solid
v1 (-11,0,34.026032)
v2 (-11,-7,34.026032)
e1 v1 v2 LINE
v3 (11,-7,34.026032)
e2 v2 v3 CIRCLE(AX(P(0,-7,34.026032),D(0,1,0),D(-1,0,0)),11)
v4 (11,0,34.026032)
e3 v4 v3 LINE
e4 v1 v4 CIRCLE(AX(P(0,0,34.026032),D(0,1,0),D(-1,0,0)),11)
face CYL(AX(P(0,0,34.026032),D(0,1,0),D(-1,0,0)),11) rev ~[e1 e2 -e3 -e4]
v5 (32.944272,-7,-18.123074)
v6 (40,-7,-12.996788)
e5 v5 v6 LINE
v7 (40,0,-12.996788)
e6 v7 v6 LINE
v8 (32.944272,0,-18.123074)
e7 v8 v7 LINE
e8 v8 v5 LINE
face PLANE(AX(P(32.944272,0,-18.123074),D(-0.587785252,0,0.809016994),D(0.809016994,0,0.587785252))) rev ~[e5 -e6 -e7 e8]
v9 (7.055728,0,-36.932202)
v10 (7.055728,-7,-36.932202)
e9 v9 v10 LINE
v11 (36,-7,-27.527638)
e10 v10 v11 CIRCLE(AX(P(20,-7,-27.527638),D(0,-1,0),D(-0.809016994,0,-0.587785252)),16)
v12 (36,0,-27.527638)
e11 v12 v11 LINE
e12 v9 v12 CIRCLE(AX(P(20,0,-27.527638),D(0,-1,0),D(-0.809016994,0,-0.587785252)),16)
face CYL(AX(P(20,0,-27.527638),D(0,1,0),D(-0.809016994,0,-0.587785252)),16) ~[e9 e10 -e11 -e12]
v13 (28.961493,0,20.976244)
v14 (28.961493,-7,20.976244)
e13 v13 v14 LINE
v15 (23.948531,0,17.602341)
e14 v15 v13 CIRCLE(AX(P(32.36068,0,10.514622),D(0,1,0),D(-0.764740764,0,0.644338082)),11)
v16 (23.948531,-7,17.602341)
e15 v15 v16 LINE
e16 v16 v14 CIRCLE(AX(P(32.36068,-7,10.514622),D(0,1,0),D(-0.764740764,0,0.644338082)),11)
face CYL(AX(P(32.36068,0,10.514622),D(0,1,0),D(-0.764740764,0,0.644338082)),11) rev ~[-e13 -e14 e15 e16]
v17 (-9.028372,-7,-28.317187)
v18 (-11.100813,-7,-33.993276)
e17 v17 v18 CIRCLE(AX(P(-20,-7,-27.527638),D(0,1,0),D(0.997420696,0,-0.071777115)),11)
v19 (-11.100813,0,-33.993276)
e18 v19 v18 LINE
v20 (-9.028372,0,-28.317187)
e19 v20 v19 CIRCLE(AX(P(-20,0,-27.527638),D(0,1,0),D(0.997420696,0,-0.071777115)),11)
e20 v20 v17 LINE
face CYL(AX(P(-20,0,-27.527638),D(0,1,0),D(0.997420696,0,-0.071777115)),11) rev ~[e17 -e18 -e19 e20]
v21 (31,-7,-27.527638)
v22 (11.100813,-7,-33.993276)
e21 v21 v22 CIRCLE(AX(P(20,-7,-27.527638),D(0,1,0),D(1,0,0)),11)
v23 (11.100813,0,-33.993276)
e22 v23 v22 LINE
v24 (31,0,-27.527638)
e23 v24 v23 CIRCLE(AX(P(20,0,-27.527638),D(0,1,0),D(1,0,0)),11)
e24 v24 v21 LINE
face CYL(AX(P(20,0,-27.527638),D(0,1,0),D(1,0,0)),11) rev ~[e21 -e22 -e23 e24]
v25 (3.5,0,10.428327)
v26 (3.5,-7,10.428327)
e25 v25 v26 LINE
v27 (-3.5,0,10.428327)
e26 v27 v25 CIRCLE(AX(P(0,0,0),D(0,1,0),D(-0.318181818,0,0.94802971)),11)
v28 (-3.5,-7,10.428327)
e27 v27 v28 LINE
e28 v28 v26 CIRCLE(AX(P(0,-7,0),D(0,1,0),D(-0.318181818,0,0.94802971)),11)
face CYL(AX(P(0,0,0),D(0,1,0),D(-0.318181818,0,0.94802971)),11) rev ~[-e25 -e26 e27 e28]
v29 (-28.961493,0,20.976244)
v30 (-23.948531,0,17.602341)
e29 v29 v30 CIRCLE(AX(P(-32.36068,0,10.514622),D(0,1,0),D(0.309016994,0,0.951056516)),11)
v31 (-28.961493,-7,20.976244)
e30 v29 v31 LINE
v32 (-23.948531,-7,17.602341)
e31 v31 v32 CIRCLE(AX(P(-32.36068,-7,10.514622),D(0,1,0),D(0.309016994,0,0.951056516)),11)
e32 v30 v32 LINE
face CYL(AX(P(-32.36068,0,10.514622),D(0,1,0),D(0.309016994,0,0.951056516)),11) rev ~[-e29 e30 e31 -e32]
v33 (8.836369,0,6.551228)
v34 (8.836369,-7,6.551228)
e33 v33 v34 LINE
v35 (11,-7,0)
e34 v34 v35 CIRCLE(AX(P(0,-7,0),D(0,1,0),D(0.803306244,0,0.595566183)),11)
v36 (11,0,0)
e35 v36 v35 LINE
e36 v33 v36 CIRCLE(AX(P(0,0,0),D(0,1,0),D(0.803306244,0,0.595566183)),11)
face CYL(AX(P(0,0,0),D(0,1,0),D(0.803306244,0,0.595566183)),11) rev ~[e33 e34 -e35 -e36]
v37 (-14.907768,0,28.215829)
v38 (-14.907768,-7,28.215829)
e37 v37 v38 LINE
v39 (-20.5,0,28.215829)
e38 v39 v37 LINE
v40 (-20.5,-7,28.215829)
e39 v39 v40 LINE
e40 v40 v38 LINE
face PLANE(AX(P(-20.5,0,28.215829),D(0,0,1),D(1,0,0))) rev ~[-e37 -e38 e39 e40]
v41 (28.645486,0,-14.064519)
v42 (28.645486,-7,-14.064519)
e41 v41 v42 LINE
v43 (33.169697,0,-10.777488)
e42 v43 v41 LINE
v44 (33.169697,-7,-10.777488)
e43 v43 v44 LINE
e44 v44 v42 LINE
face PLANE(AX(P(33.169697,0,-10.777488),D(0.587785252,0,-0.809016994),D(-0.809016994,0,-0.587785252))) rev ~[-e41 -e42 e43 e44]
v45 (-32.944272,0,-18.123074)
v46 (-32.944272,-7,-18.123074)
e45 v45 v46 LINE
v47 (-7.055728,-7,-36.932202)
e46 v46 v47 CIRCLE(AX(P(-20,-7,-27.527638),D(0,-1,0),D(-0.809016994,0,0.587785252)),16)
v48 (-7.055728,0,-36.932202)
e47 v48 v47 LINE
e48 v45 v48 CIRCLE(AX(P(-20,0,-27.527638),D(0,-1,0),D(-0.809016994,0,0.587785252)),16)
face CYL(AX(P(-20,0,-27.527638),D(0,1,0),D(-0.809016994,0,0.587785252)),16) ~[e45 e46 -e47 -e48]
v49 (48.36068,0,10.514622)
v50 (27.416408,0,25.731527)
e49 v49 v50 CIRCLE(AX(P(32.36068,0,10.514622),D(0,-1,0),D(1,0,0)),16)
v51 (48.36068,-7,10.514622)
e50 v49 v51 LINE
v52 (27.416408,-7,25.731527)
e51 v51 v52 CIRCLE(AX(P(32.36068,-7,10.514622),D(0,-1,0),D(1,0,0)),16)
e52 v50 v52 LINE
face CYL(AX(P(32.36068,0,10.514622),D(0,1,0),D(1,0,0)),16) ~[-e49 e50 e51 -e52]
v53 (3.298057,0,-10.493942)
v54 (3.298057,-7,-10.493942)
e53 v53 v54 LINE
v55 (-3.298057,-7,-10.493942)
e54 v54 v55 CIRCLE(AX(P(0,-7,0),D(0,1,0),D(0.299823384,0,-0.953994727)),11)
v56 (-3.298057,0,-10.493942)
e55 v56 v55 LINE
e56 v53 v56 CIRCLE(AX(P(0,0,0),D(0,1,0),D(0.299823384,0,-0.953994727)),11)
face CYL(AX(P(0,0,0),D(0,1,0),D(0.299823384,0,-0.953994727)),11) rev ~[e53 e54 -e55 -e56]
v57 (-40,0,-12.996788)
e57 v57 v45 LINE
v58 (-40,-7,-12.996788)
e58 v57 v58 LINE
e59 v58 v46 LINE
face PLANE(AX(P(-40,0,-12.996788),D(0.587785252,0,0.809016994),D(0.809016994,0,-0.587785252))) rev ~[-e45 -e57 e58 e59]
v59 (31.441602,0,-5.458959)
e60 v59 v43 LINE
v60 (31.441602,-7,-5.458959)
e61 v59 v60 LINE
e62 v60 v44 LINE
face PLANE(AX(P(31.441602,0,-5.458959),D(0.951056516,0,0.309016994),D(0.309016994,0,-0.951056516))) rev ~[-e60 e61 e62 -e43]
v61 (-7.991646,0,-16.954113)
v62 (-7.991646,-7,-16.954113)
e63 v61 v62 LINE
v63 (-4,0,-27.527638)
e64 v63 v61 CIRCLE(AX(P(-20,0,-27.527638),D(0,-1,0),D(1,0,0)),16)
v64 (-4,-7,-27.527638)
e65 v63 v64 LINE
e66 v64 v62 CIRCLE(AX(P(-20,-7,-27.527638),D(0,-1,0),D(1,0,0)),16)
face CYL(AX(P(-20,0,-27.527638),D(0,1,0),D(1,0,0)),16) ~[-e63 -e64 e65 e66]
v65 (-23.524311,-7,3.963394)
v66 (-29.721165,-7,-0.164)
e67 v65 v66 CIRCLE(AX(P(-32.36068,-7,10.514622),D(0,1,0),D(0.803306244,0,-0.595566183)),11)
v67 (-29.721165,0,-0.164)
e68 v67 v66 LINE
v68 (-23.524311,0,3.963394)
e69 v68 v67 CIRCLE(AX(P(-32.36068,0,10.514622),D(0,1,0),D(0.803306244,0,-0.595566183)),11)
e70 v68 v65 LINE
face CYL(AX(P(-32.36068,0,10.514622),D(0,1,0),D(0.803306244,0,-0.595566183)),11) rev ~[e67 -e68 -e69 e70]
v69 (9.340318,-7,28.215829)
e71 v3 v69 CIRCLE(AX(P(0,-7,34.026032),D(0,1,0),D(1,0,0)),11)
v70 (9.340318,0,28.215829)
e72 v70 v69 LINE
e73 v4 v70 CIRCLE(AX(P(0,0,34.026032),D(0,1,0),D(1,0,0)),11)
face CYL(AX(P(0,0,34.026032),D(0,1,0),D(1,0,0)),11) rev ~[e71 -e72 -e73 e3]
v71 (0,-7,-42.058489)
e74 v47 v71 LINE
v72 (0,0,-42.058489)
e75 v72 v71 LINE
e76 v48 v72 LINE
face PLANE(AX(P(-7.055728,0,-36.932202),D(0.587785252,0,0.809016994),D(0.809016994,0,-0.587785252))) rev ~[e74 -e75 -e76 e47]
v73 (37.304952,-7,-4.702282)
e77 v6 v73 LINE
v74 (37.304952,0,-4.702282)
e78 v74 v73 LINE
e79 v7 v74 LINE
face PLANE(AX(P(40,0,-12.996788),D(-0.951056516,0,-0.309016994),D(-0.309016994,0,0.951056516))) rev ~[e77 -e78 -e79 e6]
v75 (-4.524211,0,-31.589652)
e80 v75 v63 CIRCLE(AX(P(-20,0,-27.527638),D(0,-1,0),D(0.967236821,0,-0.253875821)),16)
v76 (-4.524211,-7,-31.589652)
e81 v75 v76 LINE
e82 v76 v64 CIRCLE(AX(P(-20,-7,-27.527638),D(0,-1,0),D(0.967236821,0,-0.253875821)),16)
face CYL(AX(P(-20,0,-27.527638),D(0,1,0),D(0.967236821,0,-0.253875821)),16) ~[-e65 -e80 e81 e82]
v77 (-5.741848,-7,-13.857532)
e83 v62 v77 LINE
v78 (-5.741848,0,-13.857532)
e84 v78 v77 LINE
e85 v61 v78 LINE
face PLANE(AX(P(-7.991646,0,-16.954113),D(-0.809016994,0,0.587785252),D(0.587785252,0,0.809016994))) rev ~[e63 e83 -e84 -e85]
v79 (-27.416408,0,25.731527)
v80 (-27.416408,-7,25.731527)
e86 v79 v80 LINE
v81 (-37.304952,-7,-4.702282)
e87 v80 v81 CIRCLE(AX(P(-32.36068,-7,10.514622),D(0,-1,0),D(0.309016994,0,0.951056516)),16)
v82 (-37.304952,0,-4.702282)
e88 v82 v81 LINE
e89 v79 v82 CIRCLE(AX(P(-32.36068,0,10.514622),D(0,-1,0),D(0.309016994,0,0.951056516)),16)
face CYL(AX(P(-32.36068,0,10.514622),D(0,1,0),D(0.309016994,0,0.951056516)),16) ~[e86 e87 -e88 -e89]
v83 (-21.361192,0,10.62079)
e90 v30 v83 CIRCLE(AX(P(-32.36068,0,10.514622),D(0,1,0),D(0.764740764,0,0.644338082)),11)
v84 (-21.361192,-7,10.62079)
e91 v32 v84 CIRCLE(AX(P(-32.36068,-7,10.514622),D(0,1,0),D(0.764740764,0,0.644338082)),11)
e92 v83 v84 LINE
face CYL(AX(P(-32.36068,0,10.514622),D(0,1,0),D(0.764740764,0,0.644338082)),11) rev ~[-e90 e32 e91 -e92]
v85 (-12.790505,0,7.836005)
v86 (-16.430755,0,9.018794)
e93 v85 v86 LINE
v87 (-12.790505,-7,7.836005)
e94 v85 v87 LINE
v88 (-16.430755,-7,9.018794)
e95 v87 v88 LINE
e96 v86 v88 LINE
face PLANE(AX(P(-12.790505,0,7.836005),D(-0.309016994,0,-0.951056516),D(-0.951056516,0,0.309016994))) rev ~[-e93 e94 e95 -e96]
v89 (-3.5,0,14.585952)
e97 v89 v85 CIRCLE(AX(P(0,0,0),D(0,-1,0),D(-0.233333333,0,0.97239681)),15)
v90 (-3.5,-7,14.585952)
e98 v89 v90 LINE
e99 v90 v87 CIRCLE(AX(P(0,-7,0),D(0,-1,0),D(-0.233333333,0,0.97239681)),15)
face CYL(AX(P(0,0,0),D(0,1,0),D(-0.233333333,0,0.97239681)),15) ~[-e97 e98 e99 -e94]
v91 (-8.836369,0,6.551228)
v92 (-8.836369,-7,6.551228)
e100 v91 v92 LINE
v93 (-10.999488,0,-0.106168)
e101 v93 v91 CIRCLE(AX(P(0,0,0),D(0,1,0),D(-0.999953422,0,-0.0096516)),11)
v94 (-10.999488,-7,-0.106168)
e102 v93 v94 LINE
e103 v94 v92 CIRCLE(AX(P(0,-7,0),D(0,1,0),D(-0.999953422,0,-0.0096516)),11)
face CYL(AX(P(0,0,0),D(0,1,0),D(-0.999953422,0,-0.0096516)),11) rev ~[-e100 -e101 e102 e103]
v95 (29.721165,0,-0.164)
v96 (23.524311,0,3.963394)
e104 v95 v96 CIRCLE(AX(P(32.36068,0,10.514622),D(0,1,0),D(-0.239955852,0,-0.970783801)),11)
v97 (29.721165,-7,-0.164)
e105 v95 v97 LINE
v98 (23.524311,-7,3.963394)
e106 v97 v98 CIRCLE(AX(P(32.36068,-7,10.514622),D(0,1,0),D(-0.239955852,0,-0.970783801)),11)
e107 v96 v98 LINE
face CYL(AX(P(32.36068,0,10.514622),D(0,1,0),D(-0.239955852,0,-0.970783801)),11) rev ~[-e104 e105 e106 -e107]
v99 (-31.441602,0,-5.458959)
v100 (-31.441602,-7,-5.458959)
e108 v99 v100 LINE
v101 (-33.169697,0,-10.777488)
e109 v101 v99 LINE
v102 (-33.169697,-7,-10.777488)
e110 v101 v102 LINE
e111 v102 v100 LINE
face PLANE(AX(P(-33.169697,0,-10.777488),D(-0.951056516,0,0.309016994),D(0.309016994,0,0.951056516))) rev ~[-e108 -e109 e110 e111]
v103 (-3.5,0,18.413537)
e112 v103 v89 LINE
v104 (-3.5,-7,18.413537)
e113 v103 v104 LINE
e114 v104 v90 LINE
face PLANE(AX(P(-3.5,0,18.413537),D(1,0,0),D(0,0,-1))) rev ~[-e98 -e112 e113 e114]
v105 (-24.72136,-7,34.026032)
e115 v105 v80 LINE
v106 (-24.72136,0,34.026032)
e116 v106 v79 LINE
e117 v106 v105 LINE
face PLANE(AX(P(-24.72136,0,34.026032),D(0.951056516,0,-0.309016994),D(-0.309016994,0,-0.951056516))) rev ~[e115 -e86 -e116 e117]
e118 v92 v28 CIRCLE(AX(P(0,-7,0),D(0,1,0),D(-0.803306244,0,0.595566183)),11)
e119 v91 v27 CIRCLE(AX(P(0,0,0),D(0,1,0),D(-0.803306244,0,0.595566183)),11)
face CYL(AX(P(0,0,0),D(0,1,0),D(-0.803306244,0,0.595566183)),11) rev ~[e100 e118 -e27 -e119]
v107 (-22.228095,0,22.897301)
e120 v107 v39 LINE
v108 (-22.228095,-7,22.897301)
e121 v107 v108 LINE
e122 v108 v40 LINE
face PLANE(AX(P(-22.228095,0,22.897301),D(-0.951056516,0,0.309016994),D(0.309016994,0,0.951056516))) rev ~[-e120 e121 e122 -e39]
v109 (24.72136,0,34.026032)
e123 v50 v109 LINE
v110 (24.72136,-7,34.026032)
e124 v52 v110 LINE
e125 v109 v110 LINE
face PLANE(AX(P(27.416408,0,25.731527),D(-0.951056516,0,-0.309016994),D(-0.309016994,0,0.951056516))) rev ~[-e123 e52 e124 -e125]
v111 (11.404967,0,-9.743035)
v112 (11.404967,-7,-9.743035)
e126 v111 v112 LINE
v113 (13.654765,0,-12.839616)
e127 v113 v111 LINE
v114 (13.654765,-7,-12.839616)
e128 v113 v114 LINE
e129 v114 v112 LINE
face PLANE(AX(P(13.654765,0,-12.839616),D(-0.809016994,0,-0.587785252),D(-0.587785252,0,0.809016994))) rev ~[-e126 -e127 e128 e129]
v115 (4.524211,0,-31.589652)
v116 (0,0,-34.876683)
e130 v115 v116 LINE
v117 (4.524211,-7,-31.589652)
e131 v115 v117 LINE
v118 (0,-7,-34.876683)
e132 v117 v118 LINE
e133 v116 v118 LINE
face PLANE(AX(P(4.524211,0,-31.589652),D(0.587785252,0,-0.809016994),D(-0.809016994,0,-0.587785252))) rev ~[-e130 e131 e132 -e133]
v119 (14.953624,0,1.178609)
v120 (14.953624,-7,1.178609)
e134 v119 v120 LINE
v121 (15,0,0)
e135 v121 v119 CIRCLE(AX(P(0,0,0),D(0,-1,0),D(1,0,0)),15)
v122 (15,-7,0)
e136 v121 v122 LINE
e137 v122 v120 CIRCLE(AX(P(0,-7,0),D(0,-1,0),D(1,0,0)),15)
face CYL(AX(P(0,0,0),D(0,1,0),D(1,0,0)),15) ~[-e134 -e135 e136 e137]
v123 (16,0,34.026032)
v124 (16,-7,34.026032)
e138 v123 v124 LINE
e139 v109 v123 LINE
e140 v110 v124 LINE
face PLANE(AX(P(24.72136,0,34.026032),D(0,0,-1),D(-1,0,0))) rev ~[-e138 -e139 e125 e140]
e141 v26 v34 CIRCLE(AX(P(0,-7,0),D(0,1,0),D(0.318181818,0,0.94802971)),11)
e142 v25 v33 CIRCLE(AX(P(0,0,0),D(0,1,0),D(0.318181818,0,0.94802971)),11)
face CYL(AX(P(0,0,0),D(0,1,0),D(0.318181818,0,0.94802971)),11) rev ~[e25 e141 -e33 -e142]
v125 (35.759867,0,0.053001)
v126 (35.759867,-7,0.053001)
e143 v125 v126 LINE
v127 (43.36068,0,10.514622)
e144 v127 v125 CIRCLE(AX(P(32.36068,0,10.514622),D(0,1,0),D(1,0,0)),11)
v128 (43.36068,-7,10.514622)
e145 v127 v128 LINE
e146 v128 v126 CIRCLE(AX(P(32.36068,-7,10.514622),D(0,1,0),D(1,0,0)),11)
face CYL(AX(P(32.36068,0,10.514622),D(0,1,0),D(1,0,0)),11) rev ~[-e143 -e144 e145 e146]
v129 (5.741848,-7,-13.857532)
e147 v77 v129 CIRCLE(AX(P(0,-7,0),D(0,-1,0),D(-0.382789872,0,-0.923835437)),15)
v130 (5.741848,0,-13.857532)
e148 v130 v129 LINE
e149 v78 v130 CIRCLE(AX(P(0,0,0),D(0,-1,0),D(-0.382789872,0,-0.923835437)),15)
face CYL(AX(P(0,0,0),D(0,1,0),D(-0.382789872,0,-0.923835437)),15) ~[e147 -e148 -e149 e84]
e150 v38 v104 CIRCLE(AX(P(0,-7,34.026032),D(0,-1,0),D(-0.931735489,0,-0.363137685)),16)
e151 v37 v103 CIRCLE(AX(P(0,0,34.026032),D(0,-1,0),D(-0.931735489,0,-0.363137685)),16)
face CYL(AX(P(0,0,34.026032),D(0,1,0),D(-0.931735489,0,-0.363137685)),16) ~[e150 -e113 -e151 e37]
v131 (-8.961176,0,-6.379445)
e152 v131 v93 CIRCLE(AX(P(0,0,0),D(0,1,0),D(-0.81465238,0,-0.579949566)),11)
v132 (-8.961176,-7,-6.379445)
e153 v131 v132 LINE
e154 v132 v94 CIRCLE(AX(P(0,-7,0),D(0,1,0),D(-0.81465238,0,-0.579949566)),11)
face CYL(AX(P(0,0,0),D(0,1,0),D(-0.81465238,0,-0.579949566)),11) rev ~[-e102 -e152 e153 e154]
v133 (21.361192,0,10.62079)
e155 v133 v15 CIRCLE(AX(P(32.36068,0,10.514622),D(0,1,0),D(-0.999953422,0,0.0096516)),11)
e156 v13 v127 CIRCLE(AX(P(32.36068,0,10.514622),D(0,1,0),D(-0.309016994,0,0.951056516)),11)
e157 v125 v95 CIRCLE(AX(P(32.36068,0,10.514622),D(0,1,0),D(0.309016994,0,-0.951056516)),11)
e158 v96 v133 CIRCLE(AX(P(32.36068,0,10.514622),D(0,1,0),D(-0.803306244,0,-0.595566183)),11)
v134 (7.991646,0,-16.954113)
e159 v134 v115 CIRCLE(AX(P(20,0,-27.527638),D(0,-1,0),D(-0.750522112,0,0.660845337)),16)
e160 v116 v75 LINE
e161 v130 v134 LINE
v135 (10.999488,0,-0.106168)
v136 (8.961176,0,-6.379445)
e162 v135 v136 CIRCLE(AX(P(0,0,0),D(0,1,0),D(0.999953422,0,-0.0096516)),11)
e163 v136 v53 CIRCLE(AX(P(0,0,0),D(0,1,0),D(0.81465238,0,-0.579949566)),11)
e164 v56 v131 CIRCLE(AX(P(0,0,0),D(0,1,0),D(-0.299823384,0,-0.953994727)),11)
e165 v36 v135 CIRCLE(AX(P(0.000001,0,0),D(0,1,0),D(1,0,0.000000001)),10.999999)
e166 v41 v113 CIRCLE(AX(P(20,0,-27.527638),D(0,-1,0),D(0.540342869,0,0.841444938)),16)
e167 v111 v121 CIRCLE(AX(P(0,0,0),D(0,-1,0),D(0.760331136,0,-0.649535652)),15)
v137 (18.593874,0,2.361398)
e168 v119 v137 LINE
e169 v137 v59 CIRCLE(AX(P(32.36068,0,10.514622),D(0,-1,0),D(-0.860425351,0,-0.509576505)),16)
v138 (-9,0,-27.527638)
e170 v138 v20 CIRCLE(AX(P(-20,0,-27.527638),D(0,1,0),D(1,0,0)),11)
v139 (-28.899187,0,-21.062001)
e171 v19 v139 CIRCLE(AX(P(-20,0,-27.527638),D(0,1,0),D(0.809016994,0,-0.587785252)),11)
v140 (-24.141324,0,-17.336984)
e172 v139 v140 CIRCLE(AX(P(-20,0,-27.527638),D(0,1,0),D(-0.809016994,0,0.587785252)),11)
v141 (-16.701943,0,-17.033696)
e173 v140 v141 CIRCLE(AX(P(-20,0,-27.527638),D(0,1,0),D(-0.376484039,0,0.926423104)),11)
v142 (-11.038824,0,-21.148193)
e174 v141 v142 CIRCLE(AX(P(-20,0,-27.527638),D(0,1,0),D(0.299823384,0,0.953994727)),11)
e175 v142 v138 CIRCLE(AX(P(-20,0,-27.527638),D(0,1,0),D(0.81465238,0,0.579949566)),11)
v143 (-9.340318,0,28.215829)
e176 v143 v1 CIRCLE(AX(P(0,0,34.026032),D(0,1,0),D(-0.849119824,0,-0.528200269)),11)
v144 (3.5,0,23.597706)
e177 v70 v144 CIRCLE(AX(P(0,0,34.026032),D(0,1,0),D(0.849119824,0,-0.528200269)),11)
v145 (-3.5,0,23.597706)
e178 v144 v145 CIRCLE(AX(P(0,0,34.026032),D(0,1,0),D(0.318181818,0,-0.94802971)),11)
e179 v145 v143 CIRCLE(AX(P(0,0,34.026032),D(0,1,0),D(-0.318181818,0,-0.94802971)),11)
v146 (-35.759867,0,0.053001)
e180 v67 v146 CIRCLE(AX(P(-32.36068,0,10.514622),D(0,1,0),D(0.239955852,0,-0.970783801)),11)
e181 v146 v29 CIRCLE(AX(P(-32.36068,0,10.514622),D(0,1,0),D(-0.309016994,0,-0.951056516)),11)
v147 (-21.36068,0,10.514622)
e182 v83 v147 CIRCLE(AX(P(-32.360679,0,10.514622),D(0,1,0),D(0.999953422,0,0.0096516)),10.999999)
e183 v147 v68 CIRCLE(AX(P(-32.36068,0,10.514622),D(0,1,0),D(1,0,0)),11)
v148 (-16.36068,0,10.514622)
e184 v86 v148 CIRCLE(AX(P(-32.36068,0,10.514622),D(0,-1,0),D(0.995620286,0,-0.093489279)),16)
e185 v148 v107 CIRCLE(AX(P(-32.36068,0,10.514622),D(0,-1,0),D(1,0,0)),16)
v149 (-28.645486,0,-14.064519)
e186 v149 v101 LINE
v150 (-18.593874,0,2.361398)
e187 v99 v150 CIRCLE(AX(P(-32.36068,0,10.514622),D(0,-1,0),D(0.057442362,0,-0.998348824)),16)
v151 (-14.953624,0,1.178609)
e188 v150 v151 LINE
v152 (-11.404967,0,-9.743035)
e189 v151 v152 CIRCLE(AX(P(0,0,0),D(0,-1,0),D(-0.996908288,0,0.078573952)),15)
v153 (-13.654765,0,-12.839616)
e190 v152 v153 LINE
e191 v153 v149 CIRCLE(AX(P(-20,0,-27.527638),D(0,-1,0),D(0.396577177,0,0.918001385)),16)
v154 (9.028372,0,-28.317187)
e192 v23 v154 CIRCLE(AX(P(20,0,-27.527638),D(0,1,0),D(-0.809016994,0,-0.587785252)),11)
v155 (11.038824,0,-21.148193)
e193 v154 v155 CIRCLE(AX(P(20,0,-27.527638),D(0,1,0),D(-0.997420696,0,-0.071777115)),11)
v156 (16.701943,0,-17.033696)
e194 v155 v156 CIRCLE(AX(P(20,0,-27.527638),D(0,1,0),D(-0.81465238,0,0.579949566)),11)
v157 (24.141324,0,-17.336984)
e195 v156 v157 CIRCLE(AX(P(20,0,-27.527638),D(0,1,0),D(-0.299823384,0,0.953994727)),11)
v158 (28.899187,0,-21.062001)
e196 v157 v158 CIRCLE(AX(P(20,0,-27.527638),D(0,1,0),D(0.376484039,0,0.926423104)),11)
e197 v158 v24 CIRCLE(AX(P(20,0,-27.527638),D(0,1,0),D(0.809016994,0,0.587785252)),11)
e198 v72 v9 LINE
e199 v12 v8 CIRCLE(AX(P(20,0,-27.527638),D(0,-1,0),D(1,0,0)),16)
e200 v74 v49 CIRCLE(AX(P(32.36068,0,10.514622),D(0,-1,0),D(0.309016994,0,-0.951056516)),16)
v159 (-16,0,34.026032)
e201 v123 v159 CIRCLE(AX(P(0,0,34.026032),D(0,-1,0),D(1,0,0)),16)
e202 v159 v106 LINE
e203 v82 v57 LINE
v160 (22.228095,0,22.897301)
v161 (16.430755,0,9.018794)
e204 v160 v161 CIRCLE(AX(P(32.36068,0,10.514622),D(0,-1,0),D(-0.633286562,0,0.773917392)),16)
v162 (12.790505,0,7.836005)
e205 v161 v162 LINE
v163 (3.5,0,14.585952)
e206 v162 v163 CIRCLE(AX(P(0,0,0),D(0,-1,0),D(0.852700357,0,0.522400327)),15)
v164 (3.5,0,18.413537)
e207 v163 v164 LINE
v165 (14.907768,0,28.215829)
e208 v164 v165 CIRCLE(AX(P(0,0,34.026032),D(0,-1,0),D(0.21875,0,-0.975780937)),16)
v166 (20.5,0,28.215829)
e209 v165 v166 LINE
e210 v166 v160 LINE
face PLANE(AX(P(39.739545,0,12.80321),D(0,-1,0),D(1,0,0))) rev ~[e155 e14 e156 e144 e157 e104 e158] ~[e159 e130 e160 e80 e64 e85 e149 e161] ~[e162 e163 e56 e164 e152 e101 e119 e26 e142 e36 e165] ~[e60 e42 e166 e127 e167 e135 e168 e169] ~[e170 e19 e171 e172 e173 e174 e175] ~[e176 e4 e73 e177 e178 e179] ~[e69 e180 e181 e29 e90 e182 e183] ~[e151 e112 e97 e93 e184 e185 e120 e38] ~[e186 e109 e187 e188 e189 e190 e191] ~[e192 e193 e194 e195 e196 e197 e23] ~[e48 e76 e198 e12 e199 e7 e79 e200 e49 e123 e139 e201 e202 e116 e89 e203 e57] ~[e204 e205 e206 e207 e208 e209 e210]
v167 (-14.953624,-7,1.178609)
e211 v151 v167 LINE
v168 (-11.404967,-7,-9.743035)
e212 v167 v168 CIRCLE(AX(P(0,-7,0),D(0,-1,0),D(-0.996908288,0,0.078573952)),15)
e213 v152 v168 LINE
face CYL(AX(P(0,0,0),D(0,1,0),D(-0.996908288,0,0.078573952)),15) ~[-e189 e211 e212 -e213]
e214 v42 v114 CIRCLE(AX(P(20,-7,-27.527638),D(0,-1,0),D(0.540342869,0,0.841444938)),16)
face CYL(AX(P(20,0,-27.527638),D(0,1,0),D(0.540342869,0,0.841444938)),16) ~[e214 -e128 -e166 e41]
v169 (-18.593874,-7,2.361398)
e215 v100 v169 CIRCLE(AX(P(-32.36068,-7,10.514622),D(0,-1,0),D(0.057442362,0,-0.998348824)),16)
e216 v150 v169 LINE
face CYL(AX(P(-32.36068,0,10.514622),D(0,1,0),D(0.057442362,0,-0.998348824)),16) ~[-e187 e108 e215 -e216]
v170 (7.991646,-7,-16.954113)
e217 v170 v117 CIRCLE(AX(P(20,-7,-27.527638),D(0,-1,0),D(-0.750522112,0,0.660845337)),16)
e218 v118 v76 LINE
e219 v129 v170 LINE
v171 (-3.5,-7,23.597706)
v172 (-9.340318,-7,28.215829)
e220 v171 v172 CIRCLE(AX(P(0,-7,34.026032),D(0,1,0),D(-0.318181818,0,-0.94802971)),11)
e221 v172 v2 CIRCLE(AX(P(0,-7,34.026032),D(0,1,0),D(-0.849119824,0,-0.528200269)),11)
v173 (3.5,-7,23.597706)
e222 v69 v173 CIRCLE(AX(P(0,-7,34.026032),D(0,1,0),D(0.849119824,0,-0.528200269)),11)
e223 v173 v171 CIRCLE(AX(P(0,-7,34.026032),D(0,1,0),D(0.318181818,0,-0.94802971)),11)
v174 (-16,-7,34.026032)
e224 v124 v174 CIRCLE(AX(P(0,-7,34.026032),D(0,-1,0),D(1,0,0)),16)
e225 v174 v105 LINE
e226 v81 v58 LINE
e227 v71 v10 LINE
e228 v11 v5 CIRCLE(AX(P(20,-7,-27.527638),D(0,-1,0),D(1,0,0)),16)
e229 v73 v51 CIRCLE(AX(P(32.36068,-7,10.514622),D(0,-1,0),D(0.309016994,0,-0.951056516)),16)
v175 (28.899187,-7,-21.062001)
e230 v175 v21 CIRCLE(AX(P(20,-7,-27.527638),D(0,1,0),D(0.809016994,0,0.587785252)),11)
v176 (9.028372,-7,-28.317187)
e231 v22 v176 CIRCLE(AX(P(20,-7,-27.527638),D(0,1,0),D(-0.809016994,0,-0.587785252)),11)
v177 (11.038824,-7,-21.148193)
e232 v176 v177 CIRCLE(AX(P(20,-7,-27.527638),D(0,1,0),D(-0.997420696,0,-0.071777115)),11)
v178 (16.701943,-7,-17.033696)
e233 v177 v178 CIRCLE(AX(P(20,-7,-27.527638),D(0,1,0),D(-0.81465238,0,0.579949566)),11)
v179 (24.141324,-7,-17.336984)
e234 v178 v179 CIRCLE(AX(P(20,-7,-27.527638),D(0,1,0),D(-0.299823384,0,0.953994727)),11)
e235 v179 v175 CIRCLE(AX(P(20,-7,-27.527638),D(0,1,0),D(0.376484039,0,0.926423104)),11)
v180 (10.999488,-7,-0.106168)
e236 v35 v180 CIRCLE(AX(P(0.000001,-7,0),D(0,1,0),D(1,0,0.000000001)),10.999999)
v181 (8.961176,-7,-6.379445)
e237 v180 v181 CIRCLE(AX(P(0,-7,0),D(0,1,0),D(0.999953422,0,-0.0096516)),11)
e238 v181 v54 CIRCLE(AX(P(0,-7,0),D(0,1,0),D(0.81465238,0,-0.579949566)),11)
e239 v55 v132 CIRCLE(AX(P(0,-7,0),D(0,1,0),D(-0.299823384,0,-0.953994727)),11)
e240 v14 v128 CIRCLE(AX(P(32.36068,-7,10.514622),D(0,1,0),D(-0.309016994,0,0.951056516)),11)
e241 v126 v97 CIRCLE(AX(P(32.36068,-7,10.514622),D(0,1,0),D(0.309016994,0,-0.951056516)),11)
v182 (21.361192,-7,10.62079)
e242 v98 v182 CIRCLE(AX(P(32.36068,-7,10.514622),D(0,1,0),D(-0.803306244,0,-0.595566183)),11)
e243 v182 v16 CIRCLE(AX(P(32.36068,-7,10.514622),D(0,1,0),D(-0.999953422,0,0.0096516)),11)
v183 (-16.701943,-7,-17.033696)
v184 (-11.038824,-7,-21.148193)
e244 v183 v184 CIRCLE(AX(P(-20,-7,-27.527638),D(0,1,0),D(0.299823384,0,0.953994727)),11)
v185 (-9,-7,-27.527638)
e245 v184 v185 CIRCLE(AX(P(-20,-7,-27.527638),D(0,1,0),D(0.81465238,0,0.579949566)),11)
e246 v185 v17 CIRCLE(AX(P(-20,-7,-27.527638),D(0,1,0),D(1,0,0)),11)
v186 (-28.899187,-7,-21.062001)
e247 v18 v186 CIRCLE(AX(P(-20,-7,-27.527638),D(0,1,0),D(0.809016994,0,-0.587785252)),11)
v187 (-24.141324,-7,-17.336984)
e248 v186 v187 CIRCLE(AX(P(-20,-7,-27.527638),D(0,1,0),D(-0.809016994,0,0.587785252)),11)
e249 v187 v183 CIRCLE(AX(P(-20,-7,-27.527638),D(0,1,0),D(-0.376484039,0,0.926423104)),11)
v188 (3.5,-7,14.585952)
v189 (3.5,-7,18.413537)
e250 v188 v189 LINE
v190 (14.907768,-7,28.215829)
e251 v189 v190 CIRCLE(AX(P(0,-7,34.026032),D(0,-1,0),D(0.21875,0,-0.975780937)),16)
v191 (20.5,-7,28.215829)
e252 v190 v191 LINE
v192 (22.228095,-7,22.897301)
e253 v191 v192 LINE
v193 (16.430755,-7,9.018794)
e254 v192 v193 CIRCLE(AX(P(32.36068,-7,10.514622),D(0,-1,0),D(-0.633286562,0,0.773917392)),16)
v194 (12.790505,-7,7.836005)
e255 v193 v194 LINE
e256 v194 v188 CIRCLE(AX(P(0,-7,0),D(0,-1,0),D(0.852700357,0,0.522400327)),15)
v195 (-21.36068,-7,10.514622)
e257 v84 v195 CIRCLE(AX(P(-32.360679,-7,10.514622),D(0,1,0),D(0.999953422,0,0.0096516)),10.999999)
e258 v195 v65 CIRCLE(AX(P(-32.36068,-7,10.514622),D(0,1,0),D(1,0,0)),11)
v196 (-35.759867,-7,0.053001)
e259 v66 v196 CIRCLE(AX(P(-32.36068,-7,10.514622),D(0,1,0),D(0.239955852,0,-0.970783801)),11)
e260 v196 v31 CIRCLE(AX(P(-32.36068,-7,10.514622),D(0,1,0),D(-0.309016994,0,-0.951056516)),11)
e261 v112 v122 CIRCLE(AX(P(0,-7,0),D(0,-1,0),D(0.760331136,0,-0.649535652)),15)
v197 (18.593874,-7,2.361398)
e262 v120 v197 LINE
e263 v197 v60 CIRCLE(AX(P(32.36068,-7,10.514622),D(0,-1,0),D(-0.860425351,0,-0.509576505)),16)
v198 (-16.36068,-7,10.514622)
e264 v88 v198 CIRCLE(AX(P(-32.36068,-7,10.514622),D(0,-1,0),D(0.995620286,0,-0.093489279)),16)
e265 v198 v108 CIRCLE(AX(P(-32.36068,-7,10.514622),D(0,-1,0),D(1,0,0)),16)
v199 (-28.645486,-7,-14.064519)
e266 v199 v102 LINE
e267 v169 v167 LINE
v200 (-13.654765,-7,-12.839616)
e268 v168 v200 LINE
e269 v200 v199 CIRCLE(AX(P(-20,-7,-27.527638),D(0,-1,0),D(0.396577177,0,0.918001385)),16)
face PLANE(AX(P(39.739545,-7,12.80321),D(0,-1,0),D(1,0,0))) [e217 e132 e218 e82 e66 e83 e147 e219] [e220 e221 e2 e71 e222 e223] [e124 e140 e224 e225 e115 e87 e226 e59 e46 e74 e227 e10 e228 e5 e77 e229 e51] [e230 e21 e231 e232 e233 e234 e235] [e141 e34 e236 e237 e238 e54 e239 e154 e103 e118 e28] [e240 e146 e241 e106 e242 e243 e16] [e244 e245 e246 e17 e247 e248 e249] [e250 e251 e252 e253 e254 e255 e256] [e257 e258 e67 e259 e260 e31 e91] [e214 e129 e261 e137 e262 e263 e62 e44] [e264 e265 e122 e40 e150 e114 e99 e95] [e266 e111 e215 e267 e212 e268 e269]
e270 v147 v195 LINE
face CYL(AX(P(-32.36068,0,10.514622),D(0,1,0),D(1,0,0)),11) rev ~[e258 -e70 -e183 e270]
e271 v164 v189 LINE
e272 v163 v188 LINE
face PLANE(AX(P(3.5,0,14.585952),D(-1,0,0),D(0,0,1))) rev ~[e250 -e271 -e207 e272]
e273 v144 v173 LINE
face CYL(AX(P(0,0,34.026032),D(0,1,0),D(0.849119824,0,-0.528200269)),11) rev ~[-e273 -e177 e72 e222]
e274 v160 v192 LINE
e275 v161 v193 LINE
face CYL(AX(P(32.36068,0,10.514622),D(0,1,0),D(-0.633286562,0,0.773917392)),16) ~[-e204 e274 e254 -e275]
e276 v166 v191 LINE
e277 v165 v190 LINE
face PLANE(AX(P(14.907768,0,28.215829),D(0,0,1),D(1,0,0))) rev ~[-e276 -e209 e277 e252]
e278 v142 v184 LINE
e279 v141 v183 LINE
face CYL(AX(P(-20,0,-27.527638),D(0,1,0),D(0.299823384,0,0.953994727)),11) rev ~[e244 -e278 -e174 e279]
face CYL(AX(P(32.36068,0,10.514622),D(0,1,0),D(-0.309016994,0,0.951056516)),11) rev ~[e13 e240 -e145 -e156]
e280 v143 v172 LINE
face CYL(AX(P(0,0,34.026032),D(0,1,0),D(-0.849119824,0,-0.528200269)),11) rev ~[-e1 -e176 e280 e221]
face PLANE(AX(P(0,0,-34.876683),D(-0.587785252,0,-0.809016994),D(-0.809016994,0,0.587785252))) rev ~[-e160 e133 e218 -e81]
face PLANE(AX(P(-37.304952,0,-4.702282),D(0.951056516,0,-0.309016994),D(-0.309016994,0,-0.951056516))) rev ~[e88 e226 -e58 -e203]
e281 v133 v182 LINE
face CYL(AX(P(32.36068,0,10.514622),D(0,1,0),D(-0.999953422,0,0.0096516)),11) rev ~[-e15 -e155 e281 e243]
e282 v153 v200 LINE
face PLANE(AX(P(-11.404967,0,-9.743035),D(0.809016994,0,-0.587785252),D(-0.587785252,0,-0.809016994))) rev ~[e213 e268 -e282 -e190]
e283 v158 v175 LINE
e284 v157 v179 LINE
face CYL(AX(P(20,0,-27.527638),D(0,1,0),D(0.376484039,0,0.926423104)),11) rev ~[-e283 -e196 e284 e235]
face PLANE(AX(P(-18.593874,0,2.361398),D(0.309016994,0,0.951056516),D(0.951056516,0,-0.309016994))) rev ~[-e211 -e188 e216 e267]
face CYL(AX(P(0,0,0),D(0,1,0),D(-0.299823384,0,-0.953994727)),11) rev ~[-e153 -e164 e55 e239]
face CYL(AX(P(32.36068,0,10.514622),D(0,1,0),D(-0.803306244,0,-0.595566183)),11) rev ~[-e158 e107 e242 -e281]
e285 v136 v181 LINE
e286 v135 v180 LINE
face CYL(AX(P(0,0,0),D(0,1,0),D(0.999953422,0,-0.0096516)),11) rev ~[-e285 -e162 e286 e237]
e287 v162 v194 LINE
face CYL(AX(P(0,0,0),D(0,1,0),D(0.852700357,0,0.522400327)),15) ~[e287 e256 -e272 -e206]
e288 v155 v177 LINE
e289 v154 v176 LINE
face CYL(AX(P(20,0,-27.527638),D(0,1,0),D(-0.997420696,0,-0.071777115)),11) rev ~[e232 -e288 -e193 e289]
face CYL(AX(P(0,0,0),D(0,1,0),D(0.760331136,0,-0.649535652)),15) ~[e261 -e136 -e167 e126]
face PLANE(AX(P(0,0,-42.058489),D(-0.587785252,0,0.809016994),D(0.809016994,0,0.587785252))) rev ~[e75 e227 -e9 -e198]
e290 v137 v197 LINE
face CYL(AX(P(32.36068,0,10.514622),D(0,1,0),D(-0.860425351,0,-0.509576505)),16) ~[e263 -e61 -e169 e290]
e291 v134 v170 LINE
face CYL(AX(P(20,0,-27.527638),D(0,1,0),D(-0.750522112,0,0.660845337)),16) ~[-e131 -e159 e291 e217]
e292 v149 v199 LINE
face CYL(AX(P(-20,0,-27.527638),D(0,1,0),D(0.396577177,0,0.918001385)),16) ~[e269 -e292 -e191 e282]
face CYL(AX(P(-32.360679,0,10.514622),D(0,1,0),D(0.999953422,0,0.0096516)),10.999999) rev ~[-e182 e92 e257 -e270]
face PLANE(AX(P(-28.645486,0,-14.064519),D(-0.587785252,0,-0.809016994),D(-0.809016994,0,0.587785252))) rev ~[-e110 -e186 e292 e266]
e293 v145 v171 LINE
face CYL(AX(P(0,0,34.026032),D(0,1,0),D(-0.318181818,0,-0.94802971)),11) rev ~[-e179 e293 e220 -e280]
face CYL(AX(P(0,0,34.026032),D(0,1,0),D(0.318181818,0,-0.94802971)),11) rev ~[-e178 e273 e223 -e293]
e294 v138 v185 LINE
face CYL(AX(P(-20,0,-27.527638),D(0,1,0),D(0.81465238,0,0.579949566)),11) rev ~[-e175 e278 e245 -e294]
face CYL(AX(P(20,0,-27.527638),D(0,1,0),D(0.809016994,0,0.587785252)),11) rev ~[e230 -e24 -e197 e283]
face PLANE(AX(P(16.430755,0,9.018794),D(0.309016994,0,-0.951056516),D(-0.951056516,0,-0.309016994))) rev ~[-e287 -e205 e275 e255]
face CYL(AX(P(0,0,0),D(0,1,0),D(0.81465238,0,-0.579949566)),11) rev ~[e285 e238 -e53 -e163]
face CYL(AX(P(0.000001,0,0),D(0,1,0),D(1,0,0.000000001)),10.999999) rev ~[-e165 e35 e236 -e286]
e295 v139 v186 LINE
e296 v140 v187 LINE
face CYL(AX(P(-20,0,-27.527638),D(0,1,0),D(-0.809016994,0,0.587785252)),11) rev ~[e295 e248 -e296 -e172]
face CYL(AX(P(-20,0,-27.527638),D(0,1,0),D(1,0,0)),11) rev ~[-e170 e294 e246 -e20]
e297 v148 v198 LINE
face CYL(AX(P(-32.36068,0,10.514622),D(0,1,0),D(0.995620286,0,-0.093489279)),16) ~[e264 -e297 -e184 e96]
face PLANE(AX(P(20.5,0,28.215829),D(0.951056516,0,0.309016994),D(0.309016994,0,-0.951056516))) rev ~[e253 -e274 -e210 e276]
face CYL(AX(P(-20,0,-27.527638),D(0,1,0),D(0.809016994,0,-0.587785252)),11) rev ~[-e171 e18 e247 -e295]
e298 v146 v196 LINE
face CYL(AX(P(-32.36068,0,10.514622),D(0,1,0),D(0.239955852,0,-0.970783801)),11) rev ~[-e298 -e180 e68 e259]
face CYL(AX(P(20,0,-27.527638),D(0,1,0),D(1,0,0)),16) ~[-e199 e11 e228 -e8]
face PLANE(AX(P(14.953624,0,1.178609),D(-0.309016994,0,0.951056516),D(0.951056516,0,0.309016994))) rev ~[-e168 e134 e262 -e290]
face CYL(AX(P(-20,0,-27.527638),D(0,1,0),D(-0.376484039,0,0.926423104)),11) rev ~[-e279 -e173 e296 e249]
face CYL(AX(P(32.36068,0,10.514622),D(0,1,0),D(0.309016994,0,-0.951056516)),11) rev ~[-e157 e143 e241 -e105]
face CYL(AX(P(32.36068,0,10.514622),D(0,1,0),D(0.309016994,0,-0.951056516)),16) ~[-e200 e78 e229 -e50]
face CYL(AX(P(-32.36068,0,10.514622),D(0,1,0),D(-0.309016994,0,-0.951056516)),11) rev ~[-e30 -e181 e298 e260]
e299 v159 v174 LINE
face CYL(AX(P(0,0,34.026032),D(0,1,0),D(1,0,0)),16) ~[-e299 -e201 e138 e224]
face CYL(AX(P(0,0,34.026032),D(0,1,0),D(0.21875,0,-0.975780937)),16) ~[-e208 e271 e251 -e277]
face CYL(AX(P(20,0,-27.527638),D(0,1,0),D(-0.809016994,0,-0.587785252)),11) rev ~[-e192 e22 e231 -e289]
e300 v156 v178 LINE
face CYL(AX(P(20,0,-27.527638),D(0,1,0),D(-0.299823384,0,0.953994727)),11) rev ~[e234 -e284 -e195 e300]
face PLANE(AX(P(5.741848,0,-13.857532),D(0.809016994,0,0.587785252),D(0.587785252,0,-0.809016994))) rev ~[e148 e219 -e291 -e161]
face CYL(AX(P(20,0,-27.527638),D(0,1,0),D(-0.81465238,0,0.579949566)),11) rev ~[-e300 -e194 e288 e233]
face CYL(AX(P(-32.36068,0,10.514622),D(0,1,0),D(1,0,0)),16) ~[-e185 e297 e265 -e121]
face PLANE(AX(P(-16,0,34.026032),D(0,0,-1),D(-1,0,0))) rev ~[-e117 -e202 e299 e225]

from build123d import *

# Parameters (mm, degrees)
F1_DEPTH = 7


with BuildPart() as f1:
    # F0 (on Front) → F1 (new body)
    with BuildSketch(Plane.XZ):
        with BuildLine():
            ThreePointArc((48.360679775, 10.5146222424), (41.7652438117, 23.4588941524), (27.416407865, 25.7315265031))
            Line((27.416407865, 25.7315265031), (28.9614928369, 20.9762439216))
            ThreePointArc((28.9614928369, 20.9762439216), (38.8263175502, 19.4138091805), (43.360679775, 10.5146222424))
            ThreePointArc((43.360679775, 10.5146222424), (41.2598667131, 4.0489844672), (35.7598667131, 0.0530005631))
            Line((35.7598667131, 0.0530005631), (37.304951685, -4.7022820183))
            ThreePointArc((37.304951685, -4.7022820183), (45.304951685, 1.1100582057), (48.360679775, 10.5146222424))
        make_face()
        with BuildLine():
            ThreePointArc((27.416407865, 25.7315265031), (24.6902095954, 24.5561281169), (22.2280947787, 22.8973005186))
            Line((22.2280947787, 22.8973005186), (23.9485313704, 17.6023411434))
            ThreePointArc((23.9485313704, 17.6023411434), (26.2187976829, 19.6402610894), (28.9614928369, 20.9762439216))
            Line((28.9614928369, 20.9762439216), (27.416407865, 25.7315265031))
        make_face()
        with BuildLine():
            ThreePointArc((22.2280947787, 22.8973005186), (17.5969797386, 16.6817253902), (16.4307551931, 9.0187937711))
            Line((16.4307551931, 9.0187937711), (21.3611921305, 10.6207898431))
            ThreePointArc((21.3611921305, 10.6207898431), (22.0462036291, 14.3371321293), (23.9485313704, 17.6023411434))
            Line((23.9485313704, 17.6023411434), (22.2280947787, 22.8973005186))
        make_face()
        with BuildLine():
            Line((21.3611921305, 10.6207898431), (16.4307551931, 9.0187937711))
            ThreePointArc((16.4307551931, 9.0187937711), (17.1437755143, 5.5703503324), (18.5938741537, 2.361398157))
            Line((18.5938741537, 2.361398157), (23.5243110912, 3.963394229))
            ThreePointArc((23.5243110912, 3.963394229), (21.8990580958, 7.1154353043), (21.3611921305, 10.6207898431))
        make_face()
        with BuildLine():
            Line((29.7211653989, -0.1639995722), (31.4416019907, -5.4589589474))
            ThreePointArc((31.4416019907, -5.4589589474), (34.4085291179, -5.3537838864), (37.304951685, -4.7022820183))
            Line((37.304951685, -4.7022820183), (35.7598667131, 0.0530005631))
            ThreePointArc((35.7598667131, 0.0530005631), (32.7557087171, -0.4782823845), (29.7211653989, -0.1639995722))
        make_face()
        with BuildLine():
            Line((23.5243110912, 3.963394229), (18.5938741537, 2.361398157))
            ThreePointArc((18.5938741537, 2.361398157), (24.0415278254, -3.1525541609), (31.4416019907, -5.4589589474))
            Line((31.4416019907, -5.4589589474), (29.7211653989, -0.1639995722))
            ThreePointArc((29.7211653989, -0.1639995722), (26.2629082231, 1.359449819), (23.5243110912, 3.963394229))
        make_face()
        with BuildLine():
            ThreePointArc((37.304951685, -4.7022820183), (34.4085291179, -5.3537838864), (31.4416019907, -5.4589589474))
            Line((31.4416019907, -5.4589589474), (33.1696967694, -10.7774877984))
            Line((33.1696967694, -10.7774877984), (28.645485903, -14.0645193985))
            ThreePointArc((28.645485903, -14.0645193985), (30.9839600202, -15.8935238202), (32.94427191, -18.1230743727))
            Line((32.94427191, -18.1230743727), (40, -12.9967878493))
            Line((40, -12.9967878493), (37.304951685, -4.7022820183))
        make_face()
        with BuildLine():
            ThreePointArc((36, -27.5276384094), (35.2169042607, -22.5833664994), (32.94427191, -18.1230743727))
            Line((32.94427191, -18.1230743727), (28.8991869381, -21.0620006342))
            ThreePointArc((28.8991869381, -21.0620006342), (30.4616216792, -24.1284514713), (31, -27.5276384094))
            ThreePointArc((31, -27.5276384094), (23.3991869381, -37.9892600887), (11.1008130619, -33.9932761846))
            Line((11.1008130619, -33.9932761846), (7.05572809, -36.9322024461))
            ThreePointArc((7.05572809, -36.9322024461), (24.94427191, -42.7445426701), (36, -27.5276384094))
        make_face()
        with BuildLine():
            ThreePointArc((32.94427191, -18.1230743727), (30.9839600202, -15.8935238202), (28.645485903, -14.0645193985))
            Line((28.645485903, -14.0645193985), (24.1413244303, -17.3369842615))
            ThreePointArc((24.1413244303, -17.3369842615), (26.7810523469, -18.8663839351), (28.8991869381, -21.0620006342))
            Line((28.8991869381, -21.0620006342), (32.94427191, -18.1230743727))
        make_face()
        with BuildLine():
            ThreePointArc((28.645485903, -14.0645193985), (21.3030294243, -11.5807856065), (13.6547651702, -12.83961625))
            Line((13.6547651702, -12.83961625), (16.7019427769, -17.0336964164))
            ThreePointArc((16.7019427769, -17.0336964164), (20.4480745194, -16.5367681425), (24.1413244303, -17.3369842615))
            Line((24.1413244303, -17.3369842615), (28.645485903, -14.0645193985))
        make_face()
        with BuildLine():
            Line((16.7019427769, -17.0336964164), (13.6547651702, -12.83961625))
            ThreePointArc((13.6547651702, -12.83961625), (10.5954359633, -14.5833664994), (7.9916462096, -16.9541130161))
            Line((7.9916462096, -16.9541130161), (11.0388238163, -21.1481931824))
            ThreePointArc((11.0388238163, -21.1481931824), (13.5343622248, -18.6284514713), (16.7019427769, -17.0336964164))
        make_face()
        with BuildLine():
            Line((11.0388238163, -21.1481931824), (7.9916462096, -16.9541130161))
            ThreePointArc((7.9916462096, -16.9541130161), (4.4309834911, -23.8390445115), (4.5242108664, -31.5896515423))
            Line((4.5242108664, -31.5896515423), (9.0283723391, -28.3171866794))
            ThreePointArc((9.0283723391, -28.3171866794), (9.4085985716, -24.5574169054), (11.0388238163, -21.1481931824))
        make_face()
        with BuildLine():
            Line((9.0283723391, -28.3171866794), (4.5242108664, -31.5896515423))
            ThreePointArc((4.5242108664, -31.5896515423), (5.5410691968, -34.3788660388), (7.05572809, -36.9322024461))
            Line((7.05572809, -36.9322024461), (11.1008130619, -33.9932761846))
            ThreePointArc((11.1008130619, -33.9932761846), (9.667197078, -31.3003276061), (9.0283723391, -28.3171866794))
        make_face()
        with BuildLine():
            ThreePointArc((-7.05572809, -36.9322024461), (-5.5410691968, -34.3788660388), (-4.5242108664, -31.5896515423))
            Line((-4.5242108664, -31.5896515423), (-9.0283723391, -28.3171866794))
            ThreePointArc((-9.0283723391, -28.3171866794), (-9.667197078, -31.3003276061), (-11.1008130619, -33.9932761846))
            Line((-11.1008130619, -33.9932761846), (-7.05572809, -36.9322024461))
        make_face()
        with BuildLine():
            Line((-28.8991869381, -21.0620006342), (-32.94427191, -18.1230743727))
            ThreePointArc((-32.94427191, -18.1230743727), (-29.4045640367, -40.4719103194), (-7.05572809, -36.9322024461))
            Line((-7.05572809, -36.9322024461), (-11.1008130619, -33.9932761846))
            ThreePointArc((-11.1008130619, -33.9932761846), (-26.4656377752, -36.4268253475), (-28.8991869381, -21.0620006342))
        make_face()
        with BuildLine():
            ThreePointArc((-4, -27.5276384094), (-5.031137975, -21.8766942692), (-7.9916462096, -16.9541130161))
            Line((-7.9916462096, -16.9541130161), (-11.0388238163, -21.1481931824))
            ThreePointArc((-11.0388238163, -21.1481931824), (-9.5220961538, -24.1789773353), (-9, -27.5276384094))
            ThreePointArc((-9, -27.5276384094), (-9.0070953732, -27.9226673515), (-9.0283723391, -28.3171866794))
            Line((-9.0283723391, -28.3171866794), (-4.5242108664, -31.5896515423))
            ThreePointArc((-4.5242108664, -31.5896515423), (-4.1315938712, -29.5754877523), (-4, -27.5276384094))
        make_face()
        with BuildLine():
            Line((-11.0388238163, -21.1481931824), (-7.9916462096, -16.9541130161))
            ThreePointArc((-7.9916462096, -16.9541130161), (-10.5954359633, -14.5833664994), (-13.6547651702, -12.83961625))
            Line((-13.6547651702, -12.83961625), (-16.7019427769, -17.0336964164))
            ThreePointArc((-16.7019427769, -17.0336964164), (-13.5343622248, -18.6284514713), (-11.0388238163, -21.1481931824))
        make_face()
        with BuildLine():
            Line((-16.7019427769, -17.0336964164), (-13.6547651702, -12.83961625))
            ThreePointArc((-13.6547651702, -12.83961625), (-21.3030294243, -11.5807856065), (-28.645485903, -14.0645193985))
            Line((-28.645485903, -14.0645193985), (-24.1413244303, -17.3369842615))
            ThreePointArc((-24.1413244303, -17.3369842615), (-20.4480745194, -16.5367681425), (-16.7019427769, -17.0336964164))
        make_face()
        with BuildLine():
            Line((-24.1413244303, -17.3369842615), (-28.645485903, -14.0645193985))
            ThreePointArc((-28.645485903, -14.0645193985), (-30.9839600202, -15.8935238202), (-32.94427191, -18.1230743727))
            Line((-32.94427191, -18.1230743727), (-28.8991869381, -21.0620006342))
            ThreePointArc((-28.8991869381, -21.0620006342), (-26.7810523469, -18.8663839351), (-24.1413244303, -17.3369842615))
        make_face()
        with BuildLine():
            ThreePointArc((-37.304951685, -4.7022820183), (-34.4085291179, -5.3537838864), (-31.4416019907, -5.4589589474))
            Line((-31.4416019907, -5.4589589474), (-29.7211653989, -0.1639995722))
            ThreePointArc((-29.7211653989, -0.1639995722), (-32.7557087171, -0.4782823845), (-35.7598667131, 0.0530005631))
            Line((-35.7598667131, 0.0530005631), (-37.304951685, -4.7022820183))
        make_face()
        with BuildLine():
            ThreePointArc((-31.4416019907, -5.4589589474), (-24.0415278254, -3.1525541609), (-18.5938741537, 2.361398157))
            Line((-18.5938741537, 2.361398157), (-23.5243110912, 3.963394229))
            ThreePointArc((-23.5243110912, 3.963394229), (-26.2629082231, 1.359449819), (-29.7211653989, -0.1639995722))
            Line((-29.7211653989, -0.1639995722), (-31.4416019907, -5.4589589474))
        make_face()
        with BuildLine():
            Line((-21.3611921305, 10.6207898431), (-16.4307551931, 9.0187937711))
            ThreePointArc((-16.4307551931, 9.0187937711), (-16.378208231, 9.7658877467), (-16.360679775, 10.5146222424))
            ThreePointArc((-16.360679775, 10.5146222424), (-17.9017489718, 17.3658498718), (-22.2280947787, 22.8973005186))
            Line((-22.2280947787, 22.8973005186), (-23.9485313704, 17.6023411434))
            ThreePointArc((-23.9485313704, 17.6023411434), (-22.0462036291, 14.3371321293), (-21.3611921305, 10.6207898431))
        make_face()
        with BuildLine():
            Line((-23.9485313704, 17.6023411434), (-22.2280947787, 22.8973005186))
            ThreePointArc((-22.2280947787, 22.8973005186), (-24.6902095954, 24.5561281169), (-27.416407865, 25.7315265031))
            Line((-27.416407865, 25.7315265031), (-28.9614928369, 20.9762439216))
            ThreePointArc((-28.9614928369, 20.9762439216), (-26.2187976829, 19.6402610894), (-23.9485313704, 17.6023411434))
        make_face()
        with BuildLine():
            ThreePointArc((-27.416407865, 25.7315265031), (-47.5775840357, 15.4588941524), (-37.304951685, -4.7022820183))
            Line((-37.304951685, -4.7022820183), (-35.7598667131, 0.0530005631))
            ThreePointArc((-35.7598667131, 0.0530005631), (-42.8223014542, 13.9138091805), (-28.9614928369, 20.9762439216))
            Line((-28.9614928369, 20.9762439216), (-27.416407865, 25.7315265031))
        make_face()
        with BuildLine():
            Line((11, 34.0260323341), (16, 34.0260323341))
            ThreePointArc((16, 34.0260323341), (0, 50.0260323341), (-16, 34.0260323341))
            Line((-16, 34.0260323341), (-11, 34.0260323341))
            ThreePointArc((-11, 34.0260323341), (0, 45.0260323341), (11, 34.0260323341))
        make_face()
        with BuildLine():
            Line((9.3403180627, 28.2158293697), (14.9077678246, 28.2158293697))
            ThreePointArc((14.9077678246, 28.2158293697), (15.7245713009, 31.0700456286), (16, 34.0260323341))
            Line((16, 34.0260323341), (11, 34.0260323341))
            ThreePointArc((11, 34.0260323341), (10.5769442347, 31.0047328363), (9.3403180627, 28.2158293697))
        make_face()
        with BuildLine():
            Line((3.5, 23.5977055268), (3.5, 18.4135373381))
            ThreePointArc((3.5, 18.4135373381), (10.4274978465, 21.8906588886), (14.9077678246, 28.2158293697))
            Line((14.9077678246, 28.2158293697), (9.3403180627, 28.2158293697))
            ThreePointArc((9.3403180627, 28.2158293697), (6.8227713537, 25.3976030996), (3.5, 23.5977055268))
        make_face()
        with BuildLine():
            ThreePointArc((-14.9077678246, 28.2158293697), (-10.4274978465, 21.8906588886), (-3.5, 18.4135373381))
            Line((-3.5, 18.4135373381), (-3.5, 23.5977055268))
            ThreePointArc((-3.5, 23.5977055268), (-6.8227713537, 25.3976030996), (-9.3403180627, 28.2158293697))
            Line((-9.3403180627, 28.2158293697), (-14.9077678246, 28.2158293697))
        make_face()
        with BuildLine():
            ThreePointArc((-16, 34.0260323341), (-15.7245713009, 31.0700456286), (-14.9077678246, 28.2158293697))
            Line((-14.9077678246, 28.2158293697), (-9.3403180627, 28.2158293697))
            ThreePointArc((-9.3403180627, 28.2158293697), (-10.5769442347, 31.0047328363), (-11, 34.0260323341))
            Line((-11, 34.0260323341), (-16, 34.0260323341))
        make_face()
        with BuildLine():
            ThreePointArc((-3.5, 18.4135373381), (0, 18.0260323341), (3.5, 18.4135373381))
            Line((3.5, 18.4135373381), (3.5, 23.5977055268))
            ThreePointArc((3.5, 23.5977055268), (0, 23.0260323341), (-3.5, 23.5977055268))
            Line((-3.5, 23.5977055268), (-3.5, 18.4135373381))
        make_face()
        with BuildLine():
            ThreePointArc((-18.5938741537, 2.361398157), (-17.1437755143, 5.5703503324), (-16.4307551931, 9.0187937711))
            Line((-16.4307551931, 9.0187937711), (-21.3611921305, 10.6207898431))
            ThreePointArc((-21.3611921305, 10.6207898431), (-21.3608078646, 10.5677066609), (-21.360679775, 10.5146222424))
            ThreePointArc((-21.360679775, 10.5146222424), (-21.9155839037, 7.064988604), (-23.5243110912, 3.963394229))
            Line((-23.5243110912, 3.963394229), (-18.5938741537, 2.361398157))
        make_face()
        with BuildLine():
            ThreePointArc((-14.953624315, 1.1786092852), (-14.2658477444, 4.6352549156), (-12.7905053543, 7.8360048992))
            Line((-12.7905053543, 7.8360048992), (-16.4307551931, 9.0187937711))
            ThreePointArc((-16.4307551931, 9.0187937711), (-17.1437755143, 5.5703503324), (-18.5938741537, 2.361398157))
            Line((-18.5938741537, 2.361398157), (-14.953624315, 1.1786092852))
        make_face()
        with BuildLine():
            ThreePointArc((-10.9994876445, -0.1061676007), (-10.4616216792, 3.3991869381), (-8.8363686838, 6.5512280134))
            Line((-8.8363686838, 6.5512280134), (-12.7905053543, 7.8360048992))
            ThreePointArc((-12.7905053543, 7.8360048992), (-14.2658477444, 4.6352549156), (-14.953624315, 1.1786092852))
            Line((-14.953624315, 1.1786092852), (-10.9994876445, -0.1061676007))
        make_face()
        with BuildLine():
            ThreePointArc((-8.9611761837, -6.379445227), (-10.4616216792, -3.3991869381), (-10.9994876445, -0.1061676007))
            Line((-10.9994876445, -0.1061676007), (-14.953624315, 1.1786092852))
            ThreePointArc((-14.953624315, 1.1786092852), (-14.2658477444, -4.6352549156), (-11.4049670423, -9.7430347821))
            Line((-11.4049670423, -9.7430347821), (-8.9611761837, -6.379445227))
        make_face()
        with BuildLine():
            Line((-5.7418480816, -13.8575315481), (-3.2980572231, -10.493941993))
            ThreePointArc((-3.2980572231, -10.493941993), (-6.4656377752, -8.8991869381), (-8.9611761837, -6.379445227))
            Line((-8.9611761837, -6.379445227), (-11.4049670423, -9.7430347821))
            ThreePointArc((-11.4049670423, -9.7430347821), (-8.8167787844, -12.1352549156), (-5.7418480816, -13.8575315481))
        make_face()
        with BuildLine():
            Line((-7.9916462096, -16.9541130161), (-5.7418480816, -13.8575315481))
            ThreePointArc((-5.7418480816, -13.8575315481), (-8.8167787844, -12.1352549156), (-11.4049670423, -9.7430347821))
            Line((-11.4049670423, -9.7430347821), (-13.6547651702, -12.83961625))
            ThreePointArc((-13.6547651702, -12.83961625), (-10.5954359633, -14.5833664994), (-7.9916462096, -16.9541130161))
        make_face()
        with BuildLine():
            Line((11.4049670423, -9.7430347821), (8.9611761837, -6.379445227))
            ThreePointArc((8.9611761837, -6.379445227), (6.4656377752, -8.8991869381), (3.2980572231, -10.493941993))
            Line((3.2980572231, -10.493941993), (5.7418480816, -13.8575315481))
            ThreePointArc((5.7418480816, -13.8575315481), (8.8167787844, -12.1352549156), (11.4049670423, -9.7430347821))
        make_face()
        with BuildLine():
            Line((5.7418480816, -13.8575315481), (3.2980572231, -10.493941993))
            ThreePointArc((3.2980572231, -10.493941993), (0, -11), (-3.2980572231, -10.493941993))
            Line((-3.2980572231, -10.493941993), (-5.7418480816, -13.8575315481))
            ThreePointArc((-5.7418480816, -13.8575315481), (0, -15), (5.7418480816, -13.8575315481))
        make_face()
        with BuildLine():
            ThreePointArc((8.8363686838, 6.5512280134), (10.4450958713, 3.4496336384), (11, 0))
            ThreePointArc((11, 0), (10.9998719104, -0.0530844185), (10.9994876445, -0.1061676007))
            Line((10.9994876445, -0.1061676007), (14.953624315, 1.1786092852))
            ThreePointArc((14.953624315, 1.1786092852), (14.2658477444, 4.6352549156), (12.7905053543, 7.8360048992))
            Line((12.7905053543, 7.8360048992), (8.8363686838, 6.5512280134))
        make_face()
        with BuildLine():
            Line((16.4307551931, 9.0187937711), (12.7905053543, 7.8360048992))
            ThreePointArc((12.7905053543, 7.8360048992), (14.2658477444, 4.6352549156), (14.953624315, 1.1786092852))
            Line((14.953624315, 1.1786092852), (18.5938741537, 2.361398157))
            ThreePointArc((18.5938741537, 2.361398157), (17.1437755143, 5.5703503324), (16.4307551931, 9.0187937711))
        make_face()
        with BuildLine():
            ThreePointArc((3.5, 10.4283268073), (6.4656377752, 8.8991869381), (8.8363686838, 6.5512280134))
            Line((8.8363686838, 6.5512280134), (12.7905053543, 7.8360048992))
            ThreePointArc((12.7905053543, 7.8360048992), (8.8167787844, 12.1352549156), (3.5, 14.5859521458))
            Line((3.5, 14.5859521458), (3.5, 10.4283268073))
        make_face()
        with BuildLine():
            ThreePointArc((-3.5, 10.4283268073), (0, 11), (3.5, 10.4283268073))
            Line((3.5, 10.4283268073), (3.5, 14.5859521458))
            ThreePointArc((3.5, 14.5859521458), (0, 15), (-3.5, 14.5859521458))
            Line((-3.5, 14.5859521458), (-3.5, 10.4283268073))
        make_face()
        with BuildLine():
            ThreePointArc((-3.5, 14.5859521458), (0, 15), (3.5, 14.5859521458))
            Line((3.5, 14.5859521458), (3.5, 18.4135373381))
            ThreePointArc((3.5, 18.4135373381), (0, 18.0260323341), (-3.5, 18.4135373381))
            Line((-3.5, 18.4135373381), (-3.5, 14.5859521458))
        make_face()
        with BuildLine():
            ThreePointArc((-8.8363686838, 6.5512280134), (-6.4656377752, 8.8991869381), (-3.5, 10.4283268073))
            Line((-3.5, 10.4283268073), (-3.5, 14.5859521458))
            ThreePointArc((-3.5, 14.5859521458), (-8.8167787844, 12.1352549156), (-12.7905053543, 7.8360048992))
            Line((-12.7905053543, 7.8360048992), (-8.8363686838, 6.5512280134))
        make_face()
        with BuildLine():
            Line((14.953624315, 1.1786092852), (10.9994876445, -0.1061676007))
            ThreePointArc((10.9994876445, -0.1061676007), (10.4616216792, -3.3991869381), (8.9611761837, -6.379445227))
            Line((8.9611761837, -6.379445227), (11.4049670423, -9.7430347821))
            ThreePointArc((11.4049670423, -9.7430347821), (14.0725709384, -5.1925665314), (15, 0))
            ThreePointArc((15, 0), (14.9884015946, 0.5897606615), (14.953624315, 1.1786092852))
        make_face()
        with BuildLine():
            Line((20.5, 28.2158293697), (22.2280947787, 22.8973005186))
            ThreePointArc((22.2280947787, 22.8973005186), (24.6902095954, 24.5561281169), (27.416407865, 25.7315265031))
            Line((27.416407865, 25.7315265031), (24.72135955, 34.0260323341))
            Line((24.72135955, 34.0260323341), (16, 34.0260323341))
            ThreePointArc((16, 34.0260323341), (15.7245713009, 31.0700456286), (14.9077678246, 28.2158293697))
            Line((14.9077678246, 28.2158293697), (20.5, 28.2158293697))
        make_face()
        with BuildLine():
            Line((-20.5, 28.2158293697), (-14.9077678246, 28.2158293697))
            ThreePointArc((-14.9077678246, 28.2158293697), (-15.7245713009, 31.0700456286), (-16, 34.0260323341))
            Line((-16, 34.0260323341), (-24.72135955, 34.0260323341))
            Line((-24.72135955, 34.0260323341), (-27.416407865, 25.7315265031))
            ThreePointArc((-27.416407865, 25.7315265031), (-24.6902095954, 24.5561281169), (-22.2280947787, 22.8973005186))
            Line((-22.2280947787, 22.8973005186), (-20.5, 28.2158293697))
        make_face()
        with BuildLine():
            ThreePointArc((7.05572809, -36.9322024461), (5.5410691968, -34.3788660388), (4.5242108664, -31.5896515423))
            Line((4.5242108664, -31.5896515423), (0, -34.8766831424))
            Line((0, -34.8766831424), (-4.5242108664, -31.5896515423))
            ThreePointArc((-4.5242108664, -31.5896515423), (-5.5410691968, -34.3788660388), (-7.05572809, -36.9322024461))
            Line((-7.05572809, -36.9322024461), (0, -42.0584889695))
            Line((0, -42.0584889695), (7.05572809, -36.9322024461))
        make_face()
        with BuildLine():
            Line((-33.1696967694, -10.7774877984), (-31.4416019907, -5.4589589474))
            ThreePointArc((-31.4416019907, -5.4589589474), (-34.4085291179, -5.3537838864), (-37.304951685, -4.7022820183))
            Line((-37.304951685, -4.7022820183), (-40, -12.9967878493))
            Line((-40, -12.9967878493), (-32.94427191, -18.1230743727))
            ThreePointArc((-32.94427191, -18.1230743727), (-30.9839600202, -15.8935238202), (-28.645485903, -14.0645193985))
            Line((-28.645485903, -14.0645193985), (-33.1696967694, -10.7774877984))
        make_face()
        with BuildLine():
            Line((13.6547651702, -12.83961625), (11.4049670423, -9.7430347821))
            ThreePointArc((11.4049670423, -9.7430347821), (8.8167787844, -12.1352549156), (5.7418480816, -13.8575315481))
            Line((5.7418480816, -13.8575315481), (7.9916462096, -16.9541130161))
            ThreePointArc((7.9916462096, -16.9541130161), (10.5954359633, -14.5833664994), (13.6547651702, -12.83961625))
        make_face()
    extrude(amount=F1_DEPTH)


solid = f1.part
